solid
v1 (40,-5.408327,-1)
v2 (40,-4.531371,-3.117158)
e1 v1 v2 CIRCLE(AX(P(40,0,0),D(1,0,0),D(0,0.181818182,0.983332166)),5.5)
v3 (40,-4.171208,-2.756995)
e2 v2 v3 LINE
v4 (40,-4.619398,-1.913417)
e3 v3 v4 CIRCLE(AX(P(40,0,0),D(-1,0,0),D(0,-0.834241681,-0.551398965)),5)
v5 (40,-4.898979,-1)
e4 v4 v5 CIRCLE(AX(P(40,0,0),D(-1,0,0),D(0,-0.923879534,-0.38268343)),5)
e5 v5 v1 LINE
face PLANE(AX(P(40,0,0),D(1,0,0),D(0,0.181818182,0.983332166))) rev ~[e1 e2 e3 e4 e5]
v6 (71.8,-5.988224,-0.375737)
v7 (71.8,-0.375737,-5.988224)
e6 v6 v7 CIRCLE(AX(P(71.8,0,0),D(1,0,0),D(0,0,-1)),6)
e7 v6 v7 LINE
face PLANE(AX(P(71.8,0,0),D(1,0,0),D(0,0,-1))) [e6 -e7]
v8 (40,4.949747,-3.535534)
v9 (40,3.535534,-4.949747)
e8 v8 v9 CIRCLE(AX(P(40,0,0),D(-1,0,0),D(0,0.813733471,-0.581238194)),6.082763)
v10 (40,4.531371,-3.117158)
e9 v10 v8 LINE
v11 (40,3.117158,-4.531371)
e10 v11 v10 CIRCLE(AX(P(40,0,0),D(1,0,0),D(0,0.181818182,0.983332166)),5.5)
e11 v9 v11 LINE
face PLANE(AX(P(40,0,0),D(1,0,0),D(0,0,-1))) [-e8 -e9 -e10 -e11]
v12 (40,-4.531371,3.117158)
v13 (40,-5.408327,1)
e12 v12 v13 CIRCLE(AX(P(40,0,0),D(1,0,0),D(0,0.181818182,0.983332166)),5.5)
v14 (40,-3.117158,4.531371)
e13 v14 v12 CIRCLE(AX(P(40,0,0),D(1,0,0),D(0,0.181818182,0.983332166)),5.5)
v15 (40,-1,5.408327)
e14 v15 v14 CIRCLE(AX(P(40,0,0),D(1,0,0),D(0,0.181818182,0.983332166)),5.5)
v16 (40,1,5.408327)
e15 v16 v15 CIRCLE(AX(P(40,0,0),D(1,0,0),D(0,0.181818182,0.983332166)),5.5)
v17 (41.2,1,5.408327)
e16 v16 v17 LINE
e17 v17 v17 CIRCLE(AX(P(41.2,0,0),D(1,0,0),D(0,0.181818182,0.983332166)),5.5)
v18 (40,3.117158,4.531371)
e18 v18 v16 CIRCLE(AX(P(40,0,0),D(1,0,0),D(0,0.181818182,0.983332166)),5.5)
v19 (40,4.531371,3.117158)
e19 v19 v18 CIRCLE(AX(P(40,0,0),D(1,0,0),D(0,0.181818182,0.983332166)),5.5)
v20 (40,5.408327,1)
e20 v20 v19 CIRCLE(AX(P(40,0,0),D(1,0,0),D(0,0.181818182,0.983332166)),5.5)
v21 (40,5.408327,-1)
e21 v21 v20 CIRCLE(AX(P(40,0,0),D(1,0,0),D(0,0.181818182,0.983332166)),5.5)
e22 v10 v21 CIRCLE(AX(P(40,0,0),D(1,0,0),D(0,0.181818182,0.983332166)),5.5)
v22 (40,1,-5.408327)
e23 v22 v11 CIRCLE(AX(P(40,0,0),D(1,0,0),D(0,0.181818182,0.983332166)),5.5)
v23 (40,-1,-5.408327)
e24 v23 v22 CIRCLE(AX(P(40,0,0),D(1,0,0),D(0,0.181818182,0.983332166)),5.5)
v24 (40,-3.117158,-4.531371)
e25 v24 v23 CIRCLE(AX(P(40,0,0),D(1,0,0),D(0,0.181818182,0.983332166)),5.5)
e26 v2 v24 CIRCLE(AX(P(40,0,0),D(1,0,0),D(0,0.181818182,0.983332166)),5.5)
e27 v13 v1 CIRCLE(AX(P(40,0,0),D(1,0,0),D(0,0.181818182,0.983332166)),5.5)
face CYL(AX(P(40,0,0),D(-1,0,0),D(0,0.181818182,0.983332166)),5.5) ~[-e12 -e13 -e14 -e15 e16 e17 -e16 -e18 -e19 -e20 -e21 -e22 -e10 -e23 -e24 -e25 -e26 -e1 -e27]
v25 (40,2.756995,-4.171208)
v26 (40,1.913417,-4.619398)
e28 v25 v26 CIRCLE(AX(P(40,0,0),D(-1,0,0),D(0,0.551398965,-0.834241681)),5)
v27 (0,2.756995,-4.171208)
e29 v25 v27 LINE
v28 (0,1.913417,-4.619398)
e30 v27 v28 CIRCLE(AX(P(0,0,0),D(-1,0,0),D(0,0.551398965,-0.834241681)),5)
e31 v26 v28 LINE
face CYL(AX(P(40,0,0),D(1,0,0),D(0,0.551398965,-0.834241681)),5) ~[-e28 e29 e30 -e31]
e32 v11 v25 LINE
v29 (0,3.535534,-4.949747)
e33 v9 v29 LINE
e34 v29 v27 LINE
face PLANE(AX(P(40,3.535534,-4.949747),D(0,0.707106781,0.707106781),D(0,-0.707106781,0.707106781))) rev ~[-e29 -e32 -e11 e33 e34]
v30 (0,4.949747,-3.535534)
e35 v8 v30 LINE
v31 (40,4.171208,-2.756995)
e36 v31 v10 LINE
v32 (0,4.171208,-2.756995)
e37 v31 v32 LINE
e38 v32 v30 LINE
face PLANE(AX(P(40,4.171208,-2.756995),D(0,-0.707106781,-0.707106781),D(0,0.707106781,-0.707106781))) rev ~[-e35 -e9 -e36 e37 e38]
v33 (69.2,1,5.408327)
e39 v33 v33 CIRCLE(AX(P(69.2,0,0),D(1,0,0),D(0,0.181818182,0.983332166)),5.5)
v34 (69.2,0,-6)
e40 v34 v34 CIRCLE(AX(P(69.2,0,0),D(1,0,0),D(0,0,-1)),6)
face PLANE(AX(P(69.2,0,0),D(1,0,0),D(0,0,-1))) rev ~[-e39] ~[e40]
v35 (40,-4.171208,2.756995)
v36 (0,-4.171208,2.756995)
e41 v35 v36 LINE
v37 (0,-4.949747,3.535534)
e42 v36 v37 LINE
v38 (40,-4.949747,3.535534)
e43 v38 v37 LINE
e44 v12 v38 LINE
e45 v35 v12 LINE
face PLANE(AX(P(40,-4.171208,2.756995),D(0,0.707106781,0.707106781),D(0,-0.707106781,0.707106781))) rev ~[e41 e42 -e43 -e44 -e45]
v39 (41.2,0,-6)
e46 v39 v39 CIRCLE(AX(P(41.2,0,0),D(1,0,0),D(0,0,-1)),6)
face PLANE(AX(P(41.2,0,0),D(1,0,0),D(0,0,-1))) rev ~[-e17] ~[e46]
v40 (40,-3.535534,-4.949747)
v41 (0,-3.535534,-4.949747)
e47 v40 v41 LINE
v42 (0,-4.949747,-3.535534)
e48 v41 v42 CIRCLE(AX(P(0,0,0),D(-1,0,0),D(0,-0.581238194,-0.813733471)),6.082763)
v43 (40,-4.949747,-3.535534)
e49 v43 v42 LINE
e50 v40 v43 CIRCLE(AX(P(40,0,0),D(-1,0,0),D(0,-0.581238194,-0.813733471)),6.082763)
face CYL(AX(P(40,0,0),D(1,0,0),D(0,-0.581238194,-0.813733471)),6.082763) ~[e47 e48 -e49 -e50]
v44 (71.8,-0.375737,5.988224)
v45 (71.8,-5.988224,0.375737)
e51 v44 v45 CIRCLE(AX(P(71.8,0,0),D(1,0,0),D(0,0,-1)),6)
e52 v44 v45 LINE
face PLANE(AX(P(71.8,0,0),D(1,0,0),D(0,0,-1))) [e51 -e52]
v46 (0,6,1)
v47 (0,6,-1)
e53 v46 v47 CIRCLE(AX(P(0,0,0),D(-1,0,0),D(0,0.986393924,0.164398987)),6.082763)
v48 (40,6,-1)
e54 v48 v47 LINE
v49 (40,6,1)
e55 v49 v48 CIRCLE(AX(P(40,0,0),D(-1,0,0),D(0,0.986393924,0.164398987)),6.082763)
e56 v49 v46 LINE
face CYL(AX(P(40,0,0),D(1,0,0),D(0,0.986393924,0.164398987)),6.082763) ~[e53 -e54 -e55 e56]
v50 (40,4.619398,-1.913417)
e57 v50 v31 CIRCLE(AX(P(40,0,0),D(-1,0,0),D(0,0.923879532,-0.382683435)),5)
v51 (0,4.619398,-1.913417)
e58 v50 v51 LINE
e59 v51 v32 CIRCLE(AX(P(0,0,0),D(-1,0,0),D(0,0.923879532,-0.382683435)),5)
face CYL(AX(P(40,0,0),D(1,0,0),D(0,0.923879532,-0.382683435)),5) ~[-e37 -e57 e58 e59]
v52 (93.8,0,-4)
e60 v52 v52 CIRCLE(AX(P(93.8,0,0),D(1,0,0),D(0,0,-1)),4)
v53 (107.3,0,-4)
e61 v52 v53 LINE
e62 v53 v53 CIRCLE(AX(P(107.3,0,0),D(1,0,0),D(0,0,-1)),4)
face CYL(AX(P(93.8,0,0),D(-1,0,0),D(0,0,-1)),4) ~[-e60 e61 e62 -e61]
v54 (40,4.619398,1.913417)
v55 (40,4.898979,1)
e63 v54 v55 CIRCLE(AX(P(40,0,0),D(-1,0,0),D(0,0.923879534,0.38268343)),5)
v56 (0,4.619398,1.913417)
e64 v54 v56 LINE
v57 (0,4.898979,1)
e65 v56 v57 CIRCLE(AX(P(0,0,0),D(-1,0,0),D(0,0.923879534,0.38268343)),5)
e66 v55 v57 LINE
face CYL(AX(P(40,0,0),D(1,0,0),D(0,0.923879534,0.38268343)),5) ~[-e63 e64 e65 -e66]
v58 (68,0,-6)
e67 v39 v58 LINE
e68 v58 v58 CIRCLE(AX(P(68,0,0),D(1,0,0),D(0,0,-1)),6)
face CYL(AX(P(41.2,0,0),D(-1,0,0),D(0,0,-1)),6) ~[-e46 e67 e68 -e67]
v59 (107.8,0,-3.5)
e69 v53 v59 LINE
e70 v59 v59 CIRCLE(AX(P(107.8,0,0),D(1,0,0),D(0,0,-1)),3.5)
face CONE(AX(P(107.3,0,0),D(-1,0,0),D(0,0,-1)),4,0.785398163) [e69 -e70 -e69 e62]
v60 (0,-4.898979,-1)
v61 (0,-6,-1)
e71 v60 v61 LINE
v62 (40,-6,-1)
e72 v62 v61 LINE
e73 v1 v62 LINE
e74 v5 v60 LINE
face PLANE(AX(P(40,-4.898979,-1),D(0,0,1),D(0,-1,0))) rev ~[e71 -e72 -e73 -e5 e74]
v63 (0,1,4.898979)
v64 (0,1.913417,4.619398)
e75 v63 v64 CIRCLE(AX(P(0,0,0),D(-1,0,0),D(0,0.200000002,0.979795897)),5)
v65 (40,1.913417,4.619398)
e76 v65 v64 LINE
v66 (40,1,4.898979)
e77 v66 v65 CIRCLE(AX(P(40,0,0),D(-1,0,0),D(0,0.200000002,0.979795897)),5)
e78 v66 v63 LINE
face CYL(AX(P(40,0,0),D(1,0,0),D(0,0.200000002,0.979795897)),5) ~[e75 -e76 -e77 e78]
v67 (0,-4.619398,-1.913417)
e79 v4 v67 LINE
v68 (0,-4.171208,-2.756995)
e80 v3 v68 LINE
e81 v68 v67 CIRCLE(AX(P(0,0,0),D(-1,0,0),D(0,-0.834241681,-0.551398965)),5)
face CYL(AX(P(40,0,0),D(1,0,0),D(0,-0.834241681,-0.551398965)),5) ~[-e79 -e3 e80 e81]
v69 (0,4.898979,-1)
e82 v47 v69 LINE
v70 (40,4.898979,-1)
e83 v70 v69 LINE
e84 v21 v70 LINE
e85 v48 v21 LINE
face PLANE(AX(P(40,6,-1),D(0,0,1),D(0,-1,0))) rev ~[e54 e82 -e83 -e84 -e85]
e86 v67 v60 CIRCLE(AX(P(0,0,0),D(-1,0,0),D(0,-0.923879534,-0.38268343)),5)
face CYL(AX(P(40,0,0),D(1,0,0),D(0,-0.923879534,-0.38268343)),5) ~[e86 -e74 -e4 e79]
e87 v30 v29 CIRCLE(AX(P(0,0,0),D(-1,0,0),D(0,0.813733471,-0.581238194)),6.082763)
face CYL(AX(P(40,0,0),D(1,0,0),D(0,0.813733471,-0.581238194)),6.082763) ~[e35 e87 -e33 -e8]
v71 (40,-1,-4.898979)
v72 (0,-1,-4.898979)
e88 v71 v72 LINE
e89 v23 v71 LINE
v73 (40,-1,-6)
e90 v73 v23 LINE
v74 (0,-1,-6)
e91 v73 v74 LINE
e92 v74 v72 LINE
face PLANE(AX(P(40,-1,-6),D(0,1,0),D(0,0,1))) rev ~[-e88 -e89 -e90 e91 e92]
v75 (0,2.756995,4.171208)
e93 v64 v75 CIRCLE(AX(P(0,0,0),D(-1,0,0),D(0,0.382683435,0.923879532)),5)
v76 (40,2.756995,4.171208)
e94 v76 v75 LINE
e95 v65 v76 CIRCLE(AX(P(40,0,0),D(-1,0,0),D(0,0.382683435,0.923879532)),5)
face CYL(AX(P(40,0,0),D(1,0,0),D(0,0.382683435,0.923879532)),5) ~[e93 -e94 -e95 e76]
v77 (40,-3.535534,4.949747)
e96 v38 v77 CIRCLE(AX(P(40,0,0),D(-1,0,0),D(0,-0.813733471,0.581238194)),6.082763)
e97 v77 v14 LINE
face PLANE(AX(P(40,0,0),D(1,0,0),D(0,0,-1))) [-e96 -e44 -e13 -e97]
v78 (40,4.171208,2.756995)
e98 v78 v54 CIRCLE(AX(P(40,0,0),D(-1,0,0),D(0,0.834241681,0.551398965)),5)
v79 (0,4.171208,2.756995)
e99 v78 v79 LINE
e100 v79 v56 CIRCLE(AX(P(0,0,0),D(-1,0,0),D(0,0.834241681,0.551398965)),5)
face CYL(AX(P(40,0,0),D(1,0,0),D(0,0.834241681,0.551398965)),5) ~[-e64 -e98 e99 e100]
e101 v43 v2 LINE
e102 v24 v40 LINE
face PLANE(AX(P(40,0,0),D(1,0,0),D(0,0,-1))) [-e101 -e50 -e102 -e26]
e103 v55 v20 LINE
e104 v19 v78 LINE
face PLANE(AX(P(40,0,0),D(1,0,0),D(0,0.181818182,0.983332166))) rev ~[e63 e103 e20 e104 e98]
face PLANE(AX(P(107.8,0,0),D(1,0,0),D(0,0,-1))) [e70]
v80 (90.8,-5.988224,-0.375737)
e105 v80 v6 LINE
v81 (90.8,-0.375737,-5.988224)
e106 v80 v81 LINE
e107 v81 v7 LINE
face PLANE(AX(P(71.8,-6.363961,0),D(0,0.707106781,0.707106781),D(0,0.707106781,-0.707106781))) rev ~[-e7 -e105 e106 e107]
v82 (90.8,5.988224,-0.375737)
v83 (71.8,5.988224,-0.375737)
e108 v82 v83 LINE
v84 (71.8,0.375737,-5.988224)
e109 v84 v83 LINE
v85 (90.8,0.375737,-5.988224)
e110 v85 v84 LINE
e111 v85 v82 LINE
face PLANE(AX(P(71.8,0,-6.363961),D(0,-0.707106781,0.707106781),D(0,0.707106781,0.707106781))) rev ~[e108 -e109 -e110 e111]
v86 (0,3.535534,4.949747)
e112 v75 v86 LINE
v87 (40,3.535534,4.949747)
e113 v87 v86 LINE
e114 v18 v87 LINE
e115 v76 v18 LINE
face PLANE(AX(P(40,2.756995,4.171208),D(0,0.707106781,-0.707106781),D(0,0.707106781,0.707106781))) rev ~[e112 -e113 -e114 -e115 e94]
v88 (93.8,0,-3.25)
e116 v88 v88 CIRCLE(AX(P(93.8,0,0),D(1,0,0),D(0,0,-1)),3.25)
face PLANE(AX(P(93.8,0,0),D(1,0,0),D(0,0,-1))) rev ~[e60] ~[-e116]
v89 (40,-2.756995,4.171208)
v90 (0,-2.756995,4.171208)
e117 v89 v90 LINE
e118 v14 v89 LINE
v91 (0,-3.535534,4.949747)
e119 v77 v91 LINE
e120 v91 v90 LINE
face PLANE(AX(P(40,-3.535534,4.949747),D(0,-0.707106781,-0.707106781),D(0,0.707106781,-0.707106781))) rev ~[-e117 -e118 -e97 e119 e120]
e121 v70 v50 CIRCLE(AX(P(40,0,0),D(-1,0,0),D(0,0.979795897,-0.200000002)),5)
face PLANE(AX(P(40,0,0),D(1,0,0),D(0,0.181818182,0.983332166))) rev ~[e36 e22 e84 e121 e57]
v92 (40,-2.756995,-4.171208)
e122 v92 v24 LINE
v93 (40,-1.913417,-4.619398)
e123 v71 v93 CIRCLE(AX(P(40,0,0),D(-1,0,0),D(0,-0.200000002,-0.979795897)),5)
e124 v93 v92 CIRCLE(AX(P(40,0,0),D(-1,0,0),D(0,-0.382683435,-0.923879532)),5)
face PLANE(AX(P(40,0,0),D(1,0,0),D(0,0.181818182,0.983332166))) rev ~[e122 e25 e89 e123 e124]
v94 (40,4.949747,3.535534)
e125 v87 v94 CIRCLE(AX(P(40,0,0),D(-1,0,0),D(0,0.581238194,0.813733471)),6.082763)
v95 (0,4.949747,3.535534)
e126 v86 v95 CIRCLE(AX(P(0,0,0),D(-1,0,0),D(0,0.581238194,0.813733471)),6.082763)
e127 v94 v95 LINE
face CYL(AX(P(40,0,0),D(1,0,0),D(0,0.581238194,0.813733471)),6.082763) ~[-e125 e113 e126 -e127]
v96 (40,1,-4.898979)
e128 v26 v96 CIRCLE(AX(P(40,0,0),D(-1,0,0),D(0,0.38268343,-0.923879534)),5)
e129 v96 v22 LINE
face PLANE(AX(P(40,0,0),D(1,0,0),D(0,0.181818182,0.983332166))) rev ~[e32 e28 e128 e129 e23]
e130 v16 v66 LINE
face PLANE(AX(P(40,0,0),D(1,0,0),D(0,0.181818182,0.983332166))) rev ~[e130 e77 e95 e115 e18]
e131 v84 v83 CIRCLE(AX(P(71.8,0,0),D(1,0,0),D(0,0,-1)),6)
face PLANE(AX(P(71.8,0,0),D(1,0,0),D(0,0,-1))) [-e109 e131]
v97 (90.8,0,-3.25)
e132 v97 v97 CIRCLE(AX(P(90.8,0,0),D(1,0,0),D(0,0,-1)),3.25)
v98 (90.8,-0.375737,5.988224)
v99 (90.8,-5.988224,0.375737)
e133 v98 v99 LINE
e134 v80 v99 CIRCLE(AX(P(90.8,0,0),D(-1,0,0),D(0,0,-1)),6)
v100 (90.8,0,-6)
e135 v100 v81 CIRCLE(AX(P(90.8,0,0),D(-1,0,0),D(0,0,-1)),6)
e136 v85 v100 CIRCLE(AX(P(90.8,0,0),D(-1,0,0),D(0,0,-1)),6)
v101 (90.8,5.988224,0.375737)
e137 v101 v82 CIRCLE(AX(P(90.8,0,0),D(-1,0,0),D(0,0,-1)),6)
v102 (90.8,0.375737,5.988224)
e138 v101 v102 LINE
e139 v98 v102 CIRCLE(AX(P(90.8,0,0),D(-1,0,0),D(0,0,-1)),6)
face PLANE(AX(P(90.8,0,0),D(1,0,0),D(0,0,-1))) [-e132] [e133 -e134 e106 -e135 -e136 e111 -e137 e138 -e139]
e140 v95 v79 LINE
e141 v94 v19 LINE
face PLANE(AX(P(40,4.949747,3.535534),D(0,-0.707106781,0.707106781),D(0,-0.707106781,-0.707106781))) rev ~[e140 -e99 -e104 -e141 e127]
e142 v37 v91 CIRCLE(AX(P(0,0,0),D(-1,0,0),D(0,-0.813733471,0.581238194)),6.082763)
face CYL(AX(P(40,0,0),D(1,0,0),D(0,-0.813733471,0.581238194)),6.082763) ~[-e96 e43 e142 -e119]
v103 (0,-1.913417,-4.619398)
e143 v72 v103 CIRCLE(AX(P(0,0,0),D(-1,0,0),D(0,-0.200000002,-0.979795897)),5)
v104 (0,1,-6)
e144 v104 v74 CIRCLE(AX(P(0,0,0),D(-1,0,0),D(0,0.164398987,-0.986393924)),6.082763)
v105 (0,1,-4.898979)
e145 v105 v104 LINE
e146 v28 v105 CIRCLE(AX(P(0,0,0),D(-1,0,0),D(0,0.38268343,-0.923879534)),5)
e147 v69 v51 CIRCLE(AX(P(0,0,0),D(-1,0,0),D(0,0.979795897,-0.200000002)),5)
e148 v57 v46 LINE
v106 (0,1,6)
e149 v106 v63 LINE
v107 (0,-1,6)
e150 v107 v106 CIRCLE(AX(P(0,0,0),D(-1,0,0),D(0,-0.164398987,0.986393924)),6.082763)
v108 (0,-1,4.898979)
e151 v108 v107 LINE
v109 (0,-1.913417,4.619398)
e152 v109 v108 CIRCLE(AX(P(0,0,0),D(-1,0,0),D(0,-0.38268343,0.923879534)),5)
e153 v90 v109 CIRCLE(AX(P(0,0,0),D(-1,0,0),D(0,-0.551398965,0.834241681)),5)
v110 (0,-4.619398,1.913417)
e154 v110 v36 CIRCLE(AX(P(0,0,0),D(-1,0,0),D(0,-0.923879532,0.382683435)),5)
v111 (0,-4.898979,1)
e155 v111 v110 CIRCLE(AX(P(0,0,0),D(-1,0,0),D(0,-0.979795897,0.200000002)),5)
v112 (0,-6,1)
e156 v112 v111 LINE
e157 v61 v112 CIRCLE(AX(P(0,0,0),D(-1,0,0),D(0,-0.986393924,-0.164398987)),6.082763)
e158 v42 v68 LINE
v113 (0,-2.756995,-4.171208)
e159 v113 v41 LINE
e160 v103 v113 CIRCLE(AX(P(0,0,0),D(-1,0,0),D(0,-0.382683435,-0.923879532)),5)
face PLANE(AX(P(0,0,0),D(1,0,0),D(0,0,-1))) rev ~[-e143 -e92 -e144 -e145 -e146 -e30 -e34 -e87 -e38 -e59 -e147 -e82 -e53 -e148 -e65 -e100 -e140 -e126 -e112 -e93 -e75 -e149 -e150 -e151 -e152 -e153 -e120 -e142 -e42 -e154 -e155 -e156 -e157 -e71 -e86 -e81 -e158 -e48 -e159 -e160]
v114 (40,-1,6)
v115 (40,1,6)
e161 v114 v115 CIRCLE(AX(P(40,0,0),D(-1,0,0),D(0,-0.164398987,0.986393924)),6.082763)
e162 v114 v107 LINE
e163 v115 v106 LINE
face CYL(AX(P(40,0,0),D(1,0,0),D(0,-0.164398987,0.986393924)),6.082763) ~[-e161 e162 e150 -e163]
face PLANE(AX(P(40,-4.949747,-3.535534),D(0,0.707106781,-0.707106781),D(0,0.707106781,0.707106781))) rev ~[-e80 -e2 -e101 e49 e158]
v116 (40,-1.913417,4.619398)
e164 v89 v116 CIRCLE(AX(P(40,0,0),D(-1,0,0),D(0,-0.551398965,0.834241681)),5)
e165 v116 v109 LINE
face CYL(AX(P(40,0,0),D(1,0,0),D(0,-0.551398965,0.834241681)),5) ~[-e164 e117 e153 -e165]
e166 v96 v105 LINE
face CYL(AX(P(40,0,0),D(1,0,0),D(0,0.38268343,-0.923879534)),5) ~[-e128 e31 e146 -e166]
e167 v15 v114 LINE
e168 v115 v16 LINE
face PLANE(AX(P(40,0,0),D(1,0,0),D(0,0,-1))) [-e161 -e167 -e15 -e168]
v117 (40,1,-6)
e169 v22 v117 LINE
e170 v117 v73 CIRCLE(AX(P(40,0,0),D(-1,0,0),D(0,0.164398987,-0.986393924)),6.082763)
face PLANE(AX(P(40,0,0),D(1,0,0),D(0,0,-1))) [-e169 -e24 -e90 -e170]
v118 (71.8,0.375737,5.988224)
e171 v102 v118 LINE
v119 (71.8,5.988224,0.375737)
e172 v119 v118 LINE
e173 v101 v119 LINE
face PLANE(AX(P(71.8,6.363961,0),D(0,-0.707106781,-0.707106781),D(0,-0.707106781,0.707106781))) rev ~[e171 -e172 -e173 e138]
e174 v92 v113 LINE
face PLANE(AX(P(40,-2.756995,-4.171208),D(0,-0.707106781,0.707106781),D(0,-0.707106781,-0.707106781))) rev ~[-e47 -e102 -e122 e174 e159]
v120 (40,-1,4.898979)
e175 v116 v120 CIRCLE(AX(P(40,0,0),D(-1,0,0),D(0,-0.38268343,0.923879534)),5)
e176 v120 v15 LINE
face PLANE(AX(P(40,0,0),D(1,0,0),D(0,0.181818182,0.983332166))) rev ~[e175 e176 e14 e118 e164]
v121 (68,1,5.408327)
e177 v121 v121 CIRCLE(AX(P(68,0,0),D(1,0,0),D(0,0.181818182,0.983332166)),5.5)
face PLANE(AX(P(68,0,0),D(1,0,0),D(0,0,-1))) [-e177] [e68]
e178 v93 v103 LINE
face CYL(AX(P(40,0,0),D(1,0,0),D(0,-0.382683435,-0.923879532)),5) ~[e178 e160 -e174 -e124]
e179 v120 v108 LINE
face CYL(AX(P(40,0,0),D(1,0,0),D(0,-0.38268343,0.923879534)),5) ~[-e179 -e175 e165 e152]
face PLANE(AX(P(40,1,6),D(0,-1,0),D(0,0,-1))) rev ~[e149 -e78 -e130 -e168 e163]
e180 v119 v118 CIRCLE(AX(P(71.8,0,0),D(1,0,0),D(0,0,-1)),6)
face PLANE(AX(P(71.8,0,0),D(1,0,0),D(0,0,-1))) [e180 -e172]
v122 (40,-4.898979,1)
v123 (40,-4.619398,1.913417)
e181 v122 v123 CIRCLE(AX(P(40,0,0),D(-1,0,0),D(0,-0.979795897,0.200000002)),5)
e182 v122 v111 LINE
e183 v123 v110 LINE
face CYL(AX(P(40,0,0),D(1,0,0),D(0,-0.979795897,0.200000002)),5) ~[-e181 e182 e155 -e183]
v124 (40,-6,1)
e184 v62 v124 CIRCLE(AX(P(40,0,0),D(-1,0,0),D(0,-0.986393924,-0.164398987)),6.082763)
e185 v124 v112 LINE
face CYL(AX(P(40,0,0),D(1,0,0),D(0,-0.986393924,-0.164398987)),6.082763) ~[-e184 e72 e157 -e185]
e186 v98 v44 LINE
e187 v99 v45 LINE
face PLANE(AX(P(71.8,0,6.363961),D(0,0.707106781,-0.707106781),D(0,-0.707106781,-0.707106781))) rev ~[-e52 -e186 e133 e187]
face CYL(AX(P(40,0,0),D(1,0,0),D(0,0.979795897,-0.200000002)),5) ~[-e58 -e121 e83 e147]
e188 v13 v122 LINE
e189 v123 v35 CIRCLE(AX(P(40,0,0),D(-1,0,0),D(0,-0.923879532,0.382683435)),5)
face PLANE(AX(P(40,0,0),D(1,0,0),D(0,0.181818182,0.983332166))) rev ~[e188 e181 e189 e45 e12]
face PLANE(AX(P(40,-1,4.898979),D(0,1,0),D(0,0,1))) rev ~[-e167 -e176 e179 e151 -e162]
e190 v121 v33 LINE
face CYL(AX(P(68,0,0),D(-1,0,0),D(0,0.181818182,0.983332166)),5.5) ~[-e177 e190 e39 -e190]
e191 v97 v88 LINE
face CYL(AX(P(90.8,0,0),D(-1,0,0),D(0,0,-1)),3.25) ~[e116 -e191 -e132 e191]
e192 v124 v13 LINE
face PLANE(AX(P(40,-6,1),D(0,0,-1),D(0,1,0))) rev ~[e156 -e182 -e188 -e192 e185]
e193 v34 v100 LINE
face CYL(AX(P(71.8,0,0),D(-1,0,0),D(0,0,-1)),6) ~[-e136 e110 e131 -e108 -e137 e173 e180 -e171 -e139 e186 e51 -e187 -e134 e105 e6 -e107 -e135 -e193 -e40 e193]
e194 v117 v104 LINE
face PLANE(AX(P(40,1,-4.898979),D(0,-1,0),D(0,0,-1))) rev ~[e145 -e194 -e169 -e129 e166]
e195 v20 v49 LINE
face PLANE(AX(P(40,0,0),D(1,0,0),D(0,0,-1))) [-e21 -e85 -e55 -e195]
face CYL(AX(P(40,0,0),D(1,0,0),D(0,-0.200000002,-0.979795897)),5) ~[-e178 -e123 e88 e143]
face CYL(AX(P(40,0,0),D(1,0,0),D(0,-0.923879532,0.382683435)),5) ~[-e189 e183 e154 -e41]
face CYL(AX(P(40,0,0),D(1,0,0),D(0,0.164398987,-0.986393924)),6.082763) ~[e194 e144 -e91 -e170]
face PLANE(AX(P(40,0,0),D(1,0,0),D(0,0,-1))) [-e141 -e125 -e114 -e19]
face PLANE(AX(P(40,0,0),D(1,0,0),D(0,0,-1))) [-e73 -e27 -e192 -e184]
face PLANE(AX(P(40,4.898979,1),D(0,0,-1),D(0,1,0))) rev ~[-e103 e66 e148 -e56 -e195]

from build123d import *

# Parameters (mm, degrees)
SKETCH_1_R               = 7
EXTRUDE_1_DEPTH          = 40
CUT_EXTRUDE_1_DEPTH      = 40
PATTERN_CIRCULAR_1_COUNT = 8
SKETCH_3_R               = 5.5
EXTRUDE_2_DEPTH          = 1.2
SKETCH_4_R               = 6
EXTRUDE_3_DEPTH          = 26.8
SKETCH_5_R               = 5.5
EXTRUDE_4_DEPTH          = 1.2
SKETCH_6_R               = 6
EXTRUDE_5_DEPTH          = 2.6
EXTRUDE_6_DEPTH          = 19
SKETCH_8_R               = 3.25
EXTRUDE_7_DEPTH          = 3
SKETCH_9_R               = 4
EXTRUDE_8_DEPTH          = 14
CHAMFER_1_SIZE           = 0.5
SKETCH_10_OUTSIDE_W      = 36.586
SKETCH_10_OUTSIDE_H      = 36.586
SKETCH_10_OUTSIDE_R      = 6
CUT_EXTRUDE_2_DEPTH      = 22


with BuildPart() as part:
    # 草图1 → 凸台-拉伸1 (new body)
    with BuildSketch(Plane(origin=(0, 0, 0), x_dir=(0, 0, -1), z_dir=(1, 0, 0))):
        Circle(SKETCH_1_R)
    extrude(amount=EXTRUDE_1_DEPTH)

    # 草图2 → 切除-拉伸1 (cut)
    with BuildSketch(Plane(origin=(40, 0, 0), x_dir=(0, 0, -1), z_dir=(1, 0, 0))):
        with BuildLine():
            Line((1, 6), (1, 4.898979486))
            ThreePointArc((1, 4.898979486), (1.463400625, 4.78105204), (1.913417162, 4.619397663))
            Line((1.913417162, 4.619397663), (3.826834324, 9.238795325))
            ThreePointArc((3.826834324, 9.238795325), (0, 10), (-3.826834324, 9.238795325))
            Line((-3.826834324, 9.238795325), (-1.913417162, 4.619397663))
            ThreePointArc((-1.913417162, 4.619397663), (-1.463400625, 4.78105204), (-1, 4.898979486))
            Line((-1, 4.898979486), (-1, 6))
            ThreePointArc((-1, 6), (0, 6.08276253), (1, 6))
        make_face()
    cut_extrude_1 = extrude(amount=-CUT_EXTRUDE_1_DEPTH, mode=Mode.SUBTRACT)

    # 阵列(圆周)1: 切除-拉伸1 ×8 about axis
    pattern_circular_1_axis = Axis((88.99, 0, 0), (-1, 0, 0))
    for i in range(1, PATTERN_CIRCULAR_1_COUNT):
        add(cut_extrude_1.rotate(pattern_circular_1_axis, i * 360 / PATTERN_CIRCULAR_1_COUNT), mode=Mode.SUBTRACT)

    # 草图3 → 凸台-拉伸2 (add)
    with BuildSketch(Plane(origin=(40, 0, 0), x_dir=(0, 0, -1), z_dir=(1, 0, 0))):
        Circle(SKETCH_3_R)
    extrude(amount=EXTRUDE_2_DEPTH)

    # 草图4 → 凸台-拉伸3 (add)
    with BuildSketch(Plane(origin=(41.2, 0, 0), x_dir=(0, 0, -1), z_dir=(1, 0, 0))):
        Circle(SKETCH_4_R)
    extrude(amount=EXTRUDE_3_DEPTH)

    # 草图5 → 凸台-拉伸4 (add)
    with BuildSketch(Plane(origin=(68, 0, 0), x_dir=(0, 0, -1), z_dir=(1, 0, 0))):
        Circle(SKETCH_5_R)
    extrude(amount=EXTRUDE_4_DEPTH)

    # 草图6 → 凸台-拉伸5 (add)
    with BuildSketch(Plane(origin=(69.2, 0, 0), x_dir=(0, 0, -1), z_dir=(1, 0, 0))):
        Circle(SKETCH_6_R)
    extrude(amount=EXTRUDE_5_DEPTH)

    # 草图7 → 凸台-拉伸6 (add)
    with BuildSketch(Plane(origin=(71.8, 0, 0), x_dir=(0, 0, -1), z_dir=(1, 0, 0))):
        Polygon((0, -6.363961031), (6.363961031, 0), (0, 6.363961031), (-6.363961031, 0), align=None)
    extrude(amount=EXTRUDE_6_DEPTH)

    # 草图8 → 凸台-拉伸7 (add)
    with BuildSketch(Plane(origin=(90.8, 0, 0), x_dir=(0, 0, -1), z_dir=(1, 0, 0))):
        Circle(SKETCH_8_R)
    extrude(amount=EXTRUDE_7_DEPTH)

    # 草图9 → 凸台-拉伸8 (add)
    with BuildSketch(Plane(origin=(93.8, 0, 0), x_dir=(0, 0, -1), z_dir=(1, 0, 0))):
        Circle(SKETCH_9_R)
    extrude(amount=EXTRUDE_8_DEPTH)

    # 倒角1
    chamfer_1_edges = [part.edges().sort_by_distance(p)[0] for p in [
        (107.8, 0, 4),
    ]]
    chamfer(chamfer_1_edges, length=CHAMFER_1_SIZE)

    # 草图10 outside → 切除-拉伸2 (cut)
    with BuildSketch(Plane(origin=(71.8, 0, 0), x_dir=(0, 0, -1), z_dir=(1, 0, 0))):
        Rectangle(SKETCH_10_OUTSIDE_W, SKETCH_10_OUTSIDE_H)
        Circle(SKETCH_10_OUTSIDE_R, mode=Mode.SUBTRACT)
    extrude(amount=CUT_EXTRUDE_2_DEPTH, mode=Mode.SUBTRACT)


solid = part.part
